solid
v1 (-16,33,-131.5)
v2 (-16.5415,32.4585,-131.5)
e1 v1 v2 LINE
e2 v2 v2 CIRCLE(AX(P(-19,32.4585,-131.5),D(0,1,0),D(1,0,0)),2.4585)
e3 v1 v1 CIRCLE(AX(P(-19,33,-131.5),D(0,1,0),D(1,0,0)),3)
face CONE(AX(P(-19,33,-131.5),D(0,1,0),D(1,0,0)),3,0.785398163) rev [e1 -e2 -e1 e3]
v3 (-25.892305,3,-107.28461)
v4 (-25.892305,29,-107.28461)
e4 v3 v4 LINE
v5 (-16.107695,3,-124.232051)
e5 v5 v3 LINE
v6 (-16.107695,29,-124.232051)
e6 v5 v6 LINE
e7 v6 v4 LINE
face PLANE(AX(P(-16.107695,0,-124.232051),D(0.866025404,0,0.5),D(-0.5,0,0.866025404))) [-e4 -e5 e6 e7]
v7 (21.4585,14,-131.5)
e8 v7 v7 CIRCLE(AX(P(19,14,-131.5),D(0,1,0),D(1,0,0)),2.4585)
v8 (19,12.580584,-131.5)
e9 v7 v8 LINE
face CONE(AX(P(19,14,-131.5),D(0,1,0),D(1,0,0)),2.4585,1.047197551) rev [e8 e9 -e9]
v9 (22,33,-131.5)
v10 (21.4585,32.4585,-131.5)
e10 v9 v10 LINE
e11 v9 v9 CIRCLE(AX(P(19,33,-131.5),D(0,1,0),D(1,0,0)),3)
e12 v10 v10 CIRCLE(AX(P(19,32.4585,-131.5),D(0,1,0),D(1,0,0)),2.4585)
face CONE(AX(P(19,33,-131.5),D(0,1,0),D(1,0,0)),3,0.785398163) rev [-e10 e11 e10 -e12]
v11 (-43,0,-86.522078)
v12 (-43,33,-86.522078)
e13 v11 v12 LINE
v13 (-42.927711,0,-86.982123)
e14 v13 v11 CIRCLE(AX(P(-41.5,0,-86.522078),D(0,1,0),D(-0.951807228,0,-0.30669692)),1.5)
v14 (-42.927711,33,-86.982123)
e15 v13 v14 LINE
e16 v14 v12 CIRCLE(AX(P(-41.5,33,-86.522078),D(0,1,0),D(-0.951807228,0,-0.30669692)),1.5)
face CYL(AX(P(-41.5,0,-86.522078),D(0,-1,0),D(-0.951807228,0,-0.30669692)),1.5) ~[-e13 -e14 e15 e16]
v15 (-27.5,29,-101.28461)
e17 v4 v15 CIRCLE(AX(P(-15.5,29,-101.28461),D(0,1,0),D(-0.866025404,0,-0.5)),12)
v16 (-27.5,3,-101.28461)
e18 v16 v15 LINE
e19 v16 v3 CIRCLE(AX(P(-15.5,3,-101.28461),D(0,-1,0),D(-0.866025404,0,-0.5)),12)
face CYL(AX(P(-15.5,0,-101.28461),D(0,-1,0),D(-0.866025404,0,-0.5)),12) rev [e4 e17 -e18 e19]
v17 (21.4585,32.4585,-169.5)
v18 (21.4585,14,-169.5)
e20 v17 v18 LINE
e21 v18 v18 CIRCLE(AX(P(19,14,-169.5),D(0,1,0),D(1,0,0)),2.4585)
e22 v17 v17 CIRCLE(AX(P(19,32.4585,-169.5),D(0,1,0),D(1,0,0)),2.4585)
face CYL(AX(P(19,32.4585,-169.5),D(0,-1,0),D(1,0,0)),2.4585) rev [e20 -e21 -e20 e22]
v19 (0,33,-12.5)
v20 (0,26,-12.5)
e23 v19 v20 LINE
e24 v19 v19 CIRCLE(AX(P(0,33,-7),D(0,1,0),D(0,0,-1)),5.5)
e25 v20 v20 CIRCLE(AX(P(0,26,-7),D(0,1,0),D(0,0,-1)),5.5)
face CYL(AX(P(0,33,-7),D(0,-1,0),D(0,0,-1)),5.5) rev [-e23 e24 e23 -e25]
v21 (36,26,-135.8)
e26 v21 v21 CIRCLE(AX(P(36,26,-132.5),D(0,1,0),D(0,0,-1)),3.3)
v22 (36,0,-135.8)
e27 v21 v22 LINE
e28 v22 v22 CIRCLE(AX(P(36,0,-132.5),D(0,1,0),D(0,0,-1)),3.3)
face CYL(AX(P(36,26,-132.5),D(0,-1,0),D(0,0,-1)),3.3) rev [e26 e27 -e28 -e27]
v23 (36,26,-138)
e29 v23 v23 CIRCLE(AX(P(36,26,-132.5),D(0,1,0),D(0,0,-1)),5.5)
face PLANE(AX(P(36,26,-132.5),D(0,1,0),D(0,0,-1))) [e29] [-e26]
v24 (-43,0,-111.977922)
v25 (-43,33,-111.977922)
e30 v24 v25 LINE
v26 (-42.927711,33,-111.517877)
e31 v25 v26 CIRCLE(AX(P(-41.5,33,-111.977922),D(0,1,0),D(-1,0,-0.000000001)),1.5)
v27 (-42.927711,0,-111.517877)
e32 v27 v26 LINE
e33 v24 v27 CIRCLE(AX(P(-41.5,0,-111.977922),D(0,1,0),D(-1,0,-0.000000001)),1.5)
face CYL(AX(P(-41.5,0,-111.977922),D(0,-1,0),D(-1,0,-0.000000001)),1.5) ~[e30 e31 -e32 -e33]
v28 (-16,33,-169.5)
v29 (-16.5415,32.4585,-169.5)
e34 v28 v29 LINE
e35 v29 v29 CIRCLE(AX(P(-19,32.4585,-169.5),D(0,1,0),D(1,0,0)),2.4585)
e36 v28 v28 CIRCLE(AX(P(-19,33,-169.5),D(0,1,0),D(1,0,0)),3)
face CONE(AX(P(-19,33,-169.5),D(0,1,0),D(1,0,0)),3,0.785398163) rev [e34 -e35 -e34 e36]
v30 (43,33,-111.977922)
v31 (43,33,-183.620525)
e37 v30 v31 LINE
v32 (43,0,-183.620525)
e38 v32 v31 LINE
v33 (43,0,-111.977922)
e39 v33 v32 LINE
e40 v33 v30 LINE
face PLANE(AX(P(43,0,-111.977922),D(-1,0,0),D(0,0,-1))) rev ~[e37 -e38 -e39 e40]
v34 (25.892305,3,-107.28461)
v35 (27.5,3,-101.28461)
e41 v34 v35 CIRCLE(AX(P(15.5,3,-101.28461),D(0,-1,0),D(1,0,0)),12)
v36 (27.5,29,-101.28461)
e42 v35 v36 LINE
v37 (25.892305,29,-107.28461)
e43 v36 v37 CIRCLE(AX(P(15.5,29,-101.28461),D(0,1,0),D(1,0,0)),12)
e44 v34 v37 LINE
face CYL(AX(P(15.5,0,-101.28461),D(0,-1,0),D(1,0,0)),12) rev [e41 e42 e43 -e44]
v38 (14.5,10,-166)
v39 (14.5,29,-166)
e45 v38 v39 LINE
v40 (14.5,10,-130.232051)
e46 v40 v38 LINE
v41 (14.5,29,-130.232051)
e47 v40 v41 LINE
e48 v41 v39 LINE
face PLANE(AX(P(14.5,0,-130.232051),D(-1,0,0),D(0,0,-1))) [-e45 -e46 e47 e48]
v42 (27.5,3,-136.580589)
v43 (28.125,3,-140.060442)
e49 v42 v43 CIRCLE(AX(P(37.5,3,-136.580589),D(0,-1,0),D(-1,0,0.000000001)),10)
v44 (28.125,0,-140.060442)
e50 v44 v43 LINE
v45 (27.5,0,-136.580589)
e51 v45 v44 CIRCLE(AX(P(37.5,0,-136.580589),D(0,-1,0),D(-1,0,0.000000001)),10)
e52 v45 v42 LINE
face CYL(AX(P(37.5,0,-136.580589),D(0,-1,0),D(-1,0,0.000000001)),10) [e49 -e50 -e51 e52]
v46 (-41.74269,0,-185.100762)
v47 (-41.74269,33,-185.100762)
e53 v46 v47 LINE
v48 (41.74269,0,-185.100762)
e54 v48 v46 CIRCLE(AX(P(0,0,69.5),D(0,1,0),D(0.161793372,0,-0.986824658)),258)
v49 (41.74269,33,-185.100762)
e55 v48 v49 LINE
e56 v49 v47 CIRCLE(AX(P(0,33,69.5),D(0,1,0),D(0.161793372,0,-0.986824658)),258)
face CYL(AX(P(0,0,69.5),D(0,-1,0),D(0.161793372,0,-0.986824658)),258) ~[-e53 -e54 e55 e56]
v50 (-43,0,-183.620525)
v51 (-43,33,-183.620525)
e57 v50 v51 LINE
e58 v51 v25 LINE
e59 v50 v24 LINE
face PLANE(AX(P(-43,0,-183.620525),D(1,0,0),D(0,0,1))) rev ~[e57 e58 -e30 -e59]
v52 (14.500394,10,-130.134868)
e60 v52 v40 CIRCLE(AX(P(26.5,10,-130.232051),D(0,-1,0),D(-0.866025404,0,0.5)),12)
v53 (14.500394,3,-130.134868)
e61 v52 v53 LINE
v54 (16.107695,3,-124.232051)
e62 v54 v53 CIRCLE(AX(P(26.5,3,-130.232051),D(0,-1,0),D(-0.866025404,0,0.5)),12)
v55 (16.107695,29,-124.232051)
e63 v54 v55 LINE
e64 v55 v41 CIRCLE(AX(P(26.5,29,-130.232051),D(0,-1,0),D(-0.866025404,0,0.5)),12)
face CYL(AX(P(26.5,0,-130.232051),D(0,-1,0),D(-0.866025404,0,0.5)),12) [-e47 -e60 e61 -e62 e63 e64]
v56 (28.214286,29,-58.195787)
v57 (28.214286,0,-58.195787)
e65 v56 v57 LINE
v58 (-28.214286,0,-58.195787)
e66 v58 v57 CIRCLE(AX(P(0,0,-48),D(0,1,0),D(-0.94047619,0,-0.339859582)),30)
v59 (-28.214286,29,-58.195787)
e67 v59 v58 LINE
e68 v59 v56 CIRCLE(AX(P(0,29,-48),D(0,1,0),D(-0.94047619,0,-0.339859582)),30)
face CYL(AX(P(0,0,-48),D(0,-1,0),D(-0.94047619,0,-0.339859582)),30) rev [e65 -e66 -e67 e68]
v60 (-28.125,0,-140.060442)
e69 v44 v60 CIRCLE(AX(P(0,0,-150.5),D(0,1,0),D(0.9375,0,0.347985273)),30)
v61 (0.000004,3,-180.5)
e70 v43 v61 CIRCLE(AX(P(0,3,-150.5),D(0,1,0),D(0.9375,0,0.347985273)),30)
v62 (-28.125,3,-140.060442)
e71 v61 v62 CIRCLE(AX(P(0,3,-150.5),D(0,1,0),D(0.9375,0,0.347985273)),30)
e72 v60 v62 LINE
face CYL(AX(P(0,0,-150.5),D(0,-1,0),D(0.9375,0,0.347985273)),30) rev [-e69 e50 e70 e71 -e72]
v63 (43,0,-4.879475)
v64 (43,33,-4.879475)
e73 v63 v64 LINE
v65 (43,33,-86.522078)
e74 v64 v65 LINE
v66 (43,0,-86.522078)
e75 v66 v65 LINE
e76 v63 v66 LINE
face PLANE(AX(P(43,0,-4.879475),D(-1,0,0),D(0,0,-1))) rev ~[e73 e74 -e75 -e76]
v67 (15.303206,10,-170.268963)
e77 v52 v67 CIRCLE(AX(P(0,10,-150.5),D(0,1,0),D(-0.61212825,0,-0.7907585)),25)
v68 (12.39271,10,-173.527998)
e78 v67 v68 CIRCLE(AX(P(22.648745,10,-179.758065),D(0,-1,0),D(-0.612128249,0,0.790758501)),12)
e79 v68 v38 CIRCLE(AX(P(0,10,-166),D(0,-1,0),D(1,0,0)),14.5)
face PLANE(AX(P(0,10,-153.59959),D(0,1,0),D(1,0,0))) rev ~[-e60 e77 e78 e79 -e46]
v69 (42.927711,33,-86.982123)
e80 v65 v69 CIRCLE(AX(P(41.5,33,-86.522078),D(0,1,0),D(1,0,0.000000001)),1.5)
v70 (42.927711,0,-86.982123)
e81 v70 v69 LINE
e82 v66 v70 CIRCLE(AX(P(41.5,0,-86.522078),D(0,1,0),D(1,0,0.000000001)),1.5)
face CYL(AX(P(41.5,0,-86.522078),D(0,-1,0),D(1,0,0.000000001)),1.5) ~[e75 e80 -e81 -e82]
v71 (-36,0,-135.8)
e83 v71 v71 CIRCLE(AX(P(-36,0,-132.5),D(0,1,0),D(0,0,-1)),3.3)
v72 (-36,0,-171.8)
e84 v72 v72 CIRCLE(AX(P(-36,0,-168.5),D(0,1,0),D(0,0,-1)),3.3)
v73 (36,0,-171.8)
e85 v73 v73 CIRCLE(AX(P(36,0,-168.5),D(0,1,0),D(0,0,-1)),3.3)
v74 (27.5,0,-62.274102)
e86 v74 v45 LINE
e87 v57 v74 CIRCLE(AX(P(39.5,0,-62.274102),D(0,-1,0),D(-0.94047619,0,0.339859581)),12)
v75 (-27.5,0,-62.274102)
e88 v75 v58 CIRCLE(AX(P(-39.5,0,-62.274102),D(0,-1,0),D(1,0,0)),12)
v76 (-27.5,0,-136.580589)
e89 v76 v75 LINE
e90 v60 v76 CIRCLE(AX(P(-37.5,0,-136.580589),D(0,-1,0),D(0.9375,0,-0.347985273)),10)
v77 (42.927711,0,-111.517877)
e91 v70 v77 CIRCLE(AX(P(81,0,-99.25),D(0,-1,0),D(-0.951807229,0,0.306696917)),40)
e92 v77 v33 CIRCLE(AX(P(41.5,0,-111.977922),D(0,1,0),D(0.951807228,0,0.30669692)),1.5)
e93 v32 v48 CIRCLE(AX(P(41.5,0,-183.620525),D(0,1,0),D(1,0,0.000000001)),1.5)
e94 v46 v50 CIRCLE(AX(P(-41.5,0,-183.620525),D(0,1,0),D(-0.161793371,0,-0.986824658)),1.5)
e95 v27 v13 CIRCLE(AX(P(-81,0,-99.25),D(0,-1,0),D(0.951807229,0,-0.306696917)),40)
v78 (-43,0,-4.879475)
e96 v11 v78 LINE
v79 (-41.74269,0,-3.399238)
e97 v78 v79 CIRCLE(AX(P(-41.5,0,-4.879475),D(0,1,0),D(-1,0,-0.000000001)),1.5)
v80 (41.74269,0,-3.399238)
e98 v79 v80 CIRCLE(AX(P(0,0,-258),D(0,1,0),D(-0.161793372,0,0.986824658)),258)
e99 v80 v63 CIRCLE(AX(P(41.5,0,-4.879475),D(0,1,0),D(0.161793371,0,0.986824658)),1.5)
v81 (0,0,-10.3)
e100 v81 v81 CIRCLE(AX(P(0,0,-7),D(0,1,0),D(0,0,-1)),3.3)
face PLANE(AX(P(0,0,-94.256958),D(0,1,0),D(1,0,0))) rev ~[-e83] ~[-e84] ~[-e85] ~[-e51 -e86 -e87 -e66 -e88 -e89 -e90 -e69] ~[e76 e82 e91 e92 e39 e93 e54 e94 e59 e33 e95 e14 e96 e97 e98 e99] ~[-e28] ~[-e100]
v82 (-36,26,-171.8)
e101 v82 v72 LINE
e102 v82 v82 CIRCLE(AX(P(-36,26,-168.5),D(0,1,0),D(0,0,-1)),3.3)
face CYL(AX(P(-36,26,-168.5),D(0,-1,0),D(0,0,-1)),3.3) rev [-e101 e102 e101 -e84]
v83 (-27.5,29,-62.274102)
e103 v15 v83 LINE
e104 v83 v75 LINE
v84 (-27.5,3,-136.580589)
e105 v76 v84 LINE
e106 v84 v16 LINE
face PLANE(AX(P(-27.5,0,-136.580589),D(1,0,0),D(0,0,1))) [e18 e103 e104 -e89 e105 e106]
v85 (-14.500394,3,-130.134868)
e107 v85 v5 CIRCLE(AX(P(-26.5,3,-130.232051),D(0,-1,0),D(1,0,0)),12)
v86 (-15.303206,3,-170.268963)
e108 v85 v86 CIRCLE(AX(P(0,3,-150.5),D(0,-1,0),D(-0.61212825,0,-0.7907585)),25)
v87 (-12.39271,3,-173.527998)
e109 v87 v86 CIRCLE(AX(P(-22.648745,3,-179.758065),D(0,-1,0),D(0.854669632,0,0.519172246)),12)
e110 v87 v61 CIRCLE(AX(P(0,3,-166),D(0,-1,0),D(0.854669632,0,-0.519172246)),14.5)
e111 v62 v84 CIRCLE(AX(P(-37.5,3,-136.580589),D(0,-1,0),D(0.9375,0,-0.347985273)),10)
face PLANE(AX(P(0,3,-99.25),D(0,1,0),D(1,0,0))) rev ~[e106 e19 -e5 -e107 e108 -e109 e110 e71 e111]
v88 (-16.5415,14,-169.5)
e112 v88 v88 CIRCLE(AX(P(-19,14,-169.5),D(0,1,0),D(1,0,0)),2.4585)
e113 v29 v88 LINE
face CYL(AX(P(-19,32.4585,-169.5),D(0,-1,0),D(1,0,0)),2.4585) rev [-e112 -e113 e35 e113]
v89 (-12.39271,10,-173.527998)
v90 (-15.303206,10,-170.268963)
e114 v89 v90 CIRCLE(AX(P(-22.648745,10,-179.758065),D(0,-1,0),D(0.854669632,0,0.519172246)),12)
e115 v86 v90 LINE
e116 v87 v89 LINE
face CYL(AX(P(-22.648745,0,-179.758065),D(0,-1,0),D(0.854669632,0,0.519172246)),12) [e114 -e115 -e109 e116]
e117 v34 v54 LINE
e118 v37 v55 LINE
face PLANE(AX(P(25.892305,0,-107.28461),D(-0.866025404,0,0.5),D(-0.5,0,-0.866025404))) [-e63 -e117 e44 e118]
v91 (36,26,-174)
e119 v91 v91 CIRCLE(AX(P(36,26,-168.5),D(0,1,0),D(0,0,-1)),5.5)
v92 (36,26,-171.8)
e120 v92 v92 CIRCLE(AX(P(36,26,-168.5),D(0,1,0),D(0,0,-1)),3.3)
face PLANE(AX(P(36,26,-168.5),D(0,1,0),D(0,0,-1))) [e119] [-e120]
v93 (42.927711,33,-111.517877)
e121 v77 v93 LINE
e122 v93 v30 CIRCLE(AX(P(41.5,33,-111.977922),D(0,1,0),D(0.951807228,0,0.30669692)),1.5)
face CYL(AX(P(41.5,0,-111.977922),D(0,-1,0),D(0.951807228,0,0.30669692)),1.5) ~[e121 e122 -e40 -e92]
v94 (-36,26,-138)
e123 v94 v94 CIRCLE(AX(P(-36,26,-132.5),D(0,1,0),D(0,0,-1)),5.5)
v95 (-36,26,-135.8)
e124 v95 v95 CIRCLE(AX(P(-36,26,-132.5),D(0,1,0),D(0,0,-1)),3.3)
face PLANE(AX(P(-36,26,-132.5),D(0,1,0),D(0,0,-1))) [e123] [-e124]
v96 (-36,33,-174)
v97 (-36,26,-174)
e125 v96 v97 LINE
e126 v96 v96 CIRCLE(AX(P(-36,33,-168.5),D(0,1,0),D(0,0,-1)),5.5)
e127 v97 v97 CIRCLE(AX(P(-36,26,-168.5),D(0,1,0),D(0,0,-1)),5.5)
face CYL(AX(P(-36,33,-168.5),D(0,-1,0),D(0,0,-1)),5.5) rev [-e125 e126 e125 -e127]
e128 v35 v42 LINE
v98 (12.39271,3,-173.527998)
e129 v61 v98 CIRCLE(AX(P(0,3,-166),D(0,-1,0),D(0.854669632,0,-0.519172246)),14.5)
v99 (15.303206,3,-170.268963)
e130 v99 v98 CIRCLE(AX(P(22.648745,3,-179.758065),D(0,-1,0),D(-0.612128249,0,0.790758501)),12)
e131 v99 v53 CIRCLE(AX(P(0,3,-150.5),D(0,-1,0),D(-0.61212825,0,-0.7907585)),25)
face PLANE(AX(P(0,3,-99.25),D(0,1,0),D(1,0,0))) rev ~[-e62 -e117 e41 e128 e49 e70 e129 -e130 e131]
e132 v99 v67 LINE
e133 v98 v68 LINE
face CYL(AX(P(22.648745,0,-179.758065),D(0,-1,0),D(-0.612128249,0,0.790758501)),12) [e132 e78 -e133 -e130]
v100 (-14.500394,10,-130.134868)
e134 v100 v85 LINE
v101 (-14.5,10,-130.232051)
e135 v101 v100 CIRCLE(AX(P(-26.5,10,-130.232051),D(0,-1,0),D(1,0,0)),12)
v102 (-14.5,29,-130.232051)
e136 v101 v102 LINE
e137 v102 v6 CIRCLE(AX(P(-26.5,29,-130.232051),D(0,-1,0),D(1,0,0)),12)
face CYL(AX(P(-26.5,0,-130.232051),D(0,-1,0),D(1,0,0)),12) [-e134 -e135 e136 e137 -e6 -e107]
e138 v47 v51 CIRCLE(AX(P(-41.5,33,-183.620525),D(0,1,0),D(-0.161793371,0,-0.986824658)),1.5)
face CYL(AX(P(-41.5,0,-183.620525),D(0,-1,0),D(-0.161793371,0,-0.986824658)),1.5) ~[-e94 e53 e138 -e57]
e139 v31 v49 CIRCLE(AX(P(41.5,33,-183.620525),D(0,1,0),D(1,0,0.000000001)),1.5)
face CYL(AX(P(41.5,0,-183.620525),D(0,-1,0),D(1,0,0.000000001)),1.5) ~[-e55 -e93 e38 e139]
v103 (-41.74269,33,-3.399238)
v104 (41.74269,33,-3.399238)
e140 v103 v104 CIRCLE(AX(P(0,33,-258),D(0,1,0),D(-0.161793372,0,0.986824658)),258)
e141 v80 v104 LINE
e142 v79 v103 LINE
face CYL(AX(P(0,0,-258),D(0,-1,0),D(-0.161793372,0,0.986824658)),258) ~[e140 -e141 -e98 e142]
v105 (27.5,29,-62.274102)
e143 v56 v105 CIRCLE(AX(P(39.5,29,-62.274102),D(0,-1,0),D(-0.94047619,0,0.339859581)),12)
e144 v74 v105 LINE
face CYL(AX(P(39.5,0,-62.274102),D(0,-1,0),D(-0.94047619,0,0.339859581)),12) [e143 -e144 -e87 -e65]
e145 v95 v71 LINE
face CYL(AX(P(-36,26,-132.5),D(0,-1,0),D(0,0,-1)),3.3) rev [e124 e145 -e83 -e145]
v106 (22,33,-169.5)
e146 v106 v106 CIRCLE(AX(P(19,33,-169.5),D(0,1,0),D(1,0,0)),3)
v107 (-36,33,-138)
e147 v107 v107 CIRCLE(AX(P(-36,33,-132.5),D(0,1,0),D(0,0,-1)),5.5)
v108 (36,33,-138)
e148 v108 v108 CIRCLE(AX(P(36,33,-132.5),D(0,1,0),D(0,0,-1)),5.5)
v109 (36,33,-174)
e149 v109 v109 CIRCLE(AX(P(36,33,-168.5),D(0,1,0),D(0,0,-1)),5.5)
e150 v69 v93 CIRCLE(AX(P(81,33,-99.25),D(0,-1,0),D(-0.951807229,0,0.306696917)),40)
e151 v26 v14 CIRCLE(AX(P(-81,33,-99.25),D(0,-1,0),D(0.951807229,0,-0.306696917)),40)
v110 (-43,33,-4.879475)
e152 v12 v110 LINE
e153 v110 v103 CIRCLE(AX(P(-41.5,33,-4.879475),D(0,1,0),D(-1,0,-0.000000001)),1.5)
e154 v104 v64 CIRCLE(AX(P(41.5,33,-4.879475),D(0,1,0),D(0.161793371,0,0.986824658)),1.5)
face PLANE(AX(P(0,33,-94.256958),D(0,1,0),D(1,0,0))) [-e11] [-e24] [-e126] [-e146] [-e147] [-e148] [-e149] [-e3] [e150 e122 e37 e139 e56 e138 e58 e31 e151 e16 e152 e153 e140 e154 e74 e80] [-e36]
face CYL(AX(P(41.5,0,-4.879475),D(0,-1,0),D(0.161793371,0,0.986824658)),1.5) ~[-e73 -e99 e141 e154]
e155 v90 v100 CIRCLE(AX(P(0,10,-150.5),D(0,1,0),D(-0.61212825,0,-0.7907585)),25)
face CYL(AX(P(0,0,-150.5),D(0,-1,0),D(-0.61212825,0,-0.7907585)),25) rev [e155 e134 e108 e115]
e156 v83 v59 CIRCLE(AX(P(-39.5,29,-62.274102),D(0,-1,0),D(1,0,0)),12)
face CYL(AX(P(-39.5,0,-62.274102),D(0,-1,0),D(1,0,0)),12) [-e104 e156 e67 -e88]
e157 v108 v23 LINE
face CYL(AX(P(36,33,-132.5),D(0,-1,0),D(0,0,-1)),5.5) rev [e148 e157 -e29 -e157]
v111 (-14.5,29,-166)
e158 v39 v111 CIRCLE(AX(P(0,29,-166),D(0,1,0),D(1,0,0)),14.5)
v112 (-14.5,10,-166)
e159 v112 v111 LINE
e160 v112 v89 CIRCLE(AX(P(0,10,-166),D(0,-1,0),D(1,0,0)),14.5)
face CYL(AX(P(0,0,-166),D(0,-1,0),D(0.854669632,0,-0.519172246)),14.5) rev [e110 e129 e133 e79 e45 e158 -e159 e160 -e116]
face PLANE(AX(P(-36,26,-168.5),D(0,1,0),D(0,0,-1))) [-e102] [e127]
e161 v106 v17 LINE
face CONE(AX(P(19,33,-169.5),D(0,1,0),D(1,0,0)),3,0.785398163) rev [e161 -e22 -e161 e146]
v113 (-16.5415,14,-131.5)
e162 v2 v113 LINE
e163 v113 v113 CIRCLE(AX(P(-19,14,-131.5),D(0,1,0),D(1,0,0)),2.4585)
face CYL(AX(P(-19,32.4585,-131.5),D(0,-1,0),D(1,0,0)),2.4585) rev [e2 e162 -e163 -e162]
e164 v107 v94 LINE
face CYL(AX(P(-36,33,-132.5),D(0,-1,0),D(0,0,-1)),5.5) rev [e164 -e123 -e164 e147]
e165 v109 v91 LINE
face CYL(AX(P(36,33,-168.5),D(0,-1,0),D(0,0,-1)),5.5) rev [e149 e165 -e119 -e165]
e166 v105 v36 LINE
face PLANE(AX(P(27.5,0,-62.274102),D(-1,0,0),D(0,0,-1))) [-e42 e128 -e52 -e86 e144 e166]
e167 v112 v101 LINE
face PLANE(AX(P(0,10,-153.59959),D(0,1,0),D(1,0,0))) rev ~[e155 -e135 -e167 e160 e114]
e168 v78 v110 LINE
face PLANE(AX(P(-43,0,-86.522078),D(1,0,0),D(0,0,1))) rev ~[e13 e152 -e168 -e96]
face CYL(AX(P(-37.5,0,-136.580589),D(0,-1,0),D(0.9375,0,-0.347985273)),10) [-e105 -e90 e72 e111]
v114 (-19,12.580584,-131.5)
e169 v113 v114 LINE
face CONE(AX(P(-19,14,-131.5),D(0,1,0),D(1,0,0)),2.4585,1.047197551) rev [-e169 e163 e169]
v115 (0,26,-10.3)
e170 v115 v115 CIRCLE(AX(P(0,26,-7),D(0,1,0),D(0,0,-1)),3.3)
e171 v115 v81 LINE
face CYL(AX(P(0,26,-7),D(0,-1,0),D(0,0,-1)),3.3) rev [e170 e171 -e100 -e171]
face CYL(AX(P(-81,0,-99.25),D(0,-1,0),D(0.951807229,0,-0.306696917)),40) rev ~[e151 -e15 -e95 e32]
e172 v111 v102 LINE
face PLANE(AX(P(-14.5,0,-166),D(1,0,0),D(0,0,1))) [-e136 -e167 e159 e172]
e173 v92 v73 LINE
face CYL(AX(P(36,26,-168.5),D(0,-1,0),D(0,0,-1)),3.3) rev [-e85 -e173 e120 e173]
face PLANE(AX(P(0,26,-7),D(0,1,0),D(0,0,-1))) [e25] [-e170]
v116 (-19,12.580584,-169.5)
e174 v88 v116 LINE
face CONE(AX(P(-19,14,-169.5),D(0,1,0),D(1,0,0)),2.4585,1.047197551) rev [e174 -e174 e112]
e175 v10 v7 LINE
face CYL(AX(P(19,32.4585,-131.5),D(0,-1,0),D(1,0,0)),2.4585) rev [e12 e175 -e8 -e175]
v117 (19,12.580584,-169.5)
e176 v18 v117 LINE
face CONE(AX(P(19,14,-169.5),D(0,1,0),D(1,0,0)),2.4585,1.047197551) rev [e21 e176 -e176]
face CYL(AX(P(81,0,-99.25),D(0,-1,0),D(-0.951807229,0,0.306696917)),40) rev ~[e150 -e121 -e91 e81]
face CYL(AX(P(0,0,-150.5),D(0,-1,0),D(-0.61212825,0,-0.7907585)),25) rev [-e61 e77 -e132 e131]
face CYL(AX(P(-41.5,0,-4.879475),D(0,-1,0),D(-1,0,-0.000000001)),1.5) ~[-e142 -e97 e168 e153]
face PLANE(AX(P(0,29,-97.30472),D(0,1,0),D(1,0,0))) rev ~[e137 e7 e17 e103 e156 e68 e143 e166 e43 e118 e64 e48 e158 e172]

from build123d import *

# Parameters (mm, degrees)
BOSS_EXTRUDE1_DEPTH = 33
CUT_EXTRUDE1_DEPTH  = 29
CUT_EXTRUDE2_DEPTH  = 10
CUT_EXTRUDE3_DEPTH  = 3


with BuildPart() as part:
    # Sketch1 → Boss-Extrude1 (new body)
    with BuildSketch(Plane(origin=(0, 0, 0), x_dir=(1, 0, 0), z_dir=(0, 1, 0))):
        with BuildLine():
            Line((-43, 86.522077939), (-43, 4.879475348))
            ThreePointArc((-43, 4.879475348), (-42.64324868, 3.90840251), (-41.742690058, 3.399238362))
            ThreePointArc((-41.742690058, 3.399238362), (0, 0), (41.742690058, 3.399238362))
            ThreePointArc((41.742690058, 3.399238362), (42.64324868, 3.90840251), (43, 4.879475348))
            Line((43, 4.879475348), (43, 86.522077939))
            ThreePointArc((43, 86.522077939), (42.98181751, 86.754923096), (42.927710843, 86.982123314))
            ThreePointArc((42.927710843, 86.982123314), (41, 99.25), (42.927710843, 111.517876686))
            ThreePointArc((42.927710843, 111.517876686), (42.98181751, 111.745076904), (43, 111.977922061))
            Line((43, 111.977922061), (43, 183.620524652))
            ThreePointArc((43, 183.620524652), (42.64324868, 184.59159749), (41.742690058, 185.100761638))
            ThreePointArc((41.742690058, 185.100761638), (0, 188.5), (-41.742690058, 185.100761638))
            ThreePointArc((-41.742690058, 185.100761638), (-42.64324868, 184.59159749), (-43, 183.620524652))
            Line((-43, 183.620524652), (-43, 111.977922061))
            ThreePointArc((-43, 111.977922061), (-42.98181751, 111.745076904), (-42.927710843, 111.517876686))
            ThreePointArc((-42.927710843, 111.517876686), (-41, 99.25), (-42.927710843, 86.982123314))
            ThreePointArc((-42.927710843, 86.982123314), (-42.98181751, 86.754923096), (-43, 86.522077939))
        make_face()
    extrude(amount=BOSS_EXTRUDE1_DEPTH)

    # Sketch2 → Cut-Extrude1 (cut)
    with BuildSketch(Plane(origin=(0, 0, 0), x_dir=(1, 0, 0), z_dir=(0, 1, 0))):
        with BuildLine():
            Line((27.5, 62.274102424), (27.5, 101.284609691))
            ThreePointArc((27.5, 101.284609691), (27.091109915, 104.390438232), (25.892304845, 107.284609691))
            Line((25.892304845, 107.284609691), (16.107695155, 124.232050808))
            ThreePointArc((16.107695155, 124.232050808), (14.908890085, 127.126222266), (14.5, 130.232050808))
            Line((14.5, 130.232050808), (14.5, 166))
            ThreePointArc((14.5, 166), (0, 180.5), (-14.5, 166))
            Line((-14.5, 166), (-14.5, 130.232050808))
            ThreePointArc((-14.5, 130.232050808), (-14.908890085, 127.126222266), (-16.107695155, 124.232050808))
            Line((-16.107695155, 124.232050808), (-25.892304845, 107.284609691))
            ThreePointArc((-25.892304845, 107.284609691), (-27.091109915, 104.390438232), (-27.5, 101.284609691))
            Line((-27.5, 101.284609691), (-27.5, 62.274102424))
            ThreePointArc((-27.5, 62.274102424), (-27.679920232, 60.203905746), (-28.214285714, 58.195787445))
            ThreePointArc((-28.214285714, 58.195787445), (0, 18), (28.214285714, 58.195787445))
            ThreePointArc((28.214285714, 58.195787445), (27.679920232, 60.203905746), (27.5, 62.274102424))
        make_face()
    extrude(amount=CUT_EXTRUDE1_DEPTH, mode=Mode.SUBTRACT)

    # Sketch3 → Cut-Extrude2 (cut)
    with BuildSketch(Plane(origin=(0, 0, 0), x_dir=(1, 0, 0), z_dir=(0, 1, 0))):
        with BuildLine():
            ThreePointArc((-15.303206241, 170.268962511), (0, 125.5), (15.303206241, 170.268962511))
            ThreePointArc((15.303206241, 170.268962511), (13.698371822, 171.764891444), (12.392709657, 173.527997565))
            ThreePointArc((12.392709657, 173.527997565), (0, 180.5), (-12.392709657, 173.527997565))
            ThreePointArc((-12.392709657, 173.527997565), (-13.698371822, 171.764891444), (-15.303206241, 170.268962511))
        make_face()
    extrude(amount=CUT_EXTRUDE2_DEPTH, mode=Mode.SUBTRACT)

    # Sketch4 → Cut-Extrude3 (cut)
    with BuildSketch(Plane(origin=(0, 0, 0), x_dir=(1, 0, 0), z_dir=(0, 1, 0))):
        with BuildLine():
            Line((27.5, 61.919410907), (27.5, 136.580589093))
            ThreePointArc((27.5, 136.580589093), (27.657490157, 138.348356046), (28.125, 140.06044182))
            ThreePointArc((28.125, 140.06044182), (0, 180.5), (-28.125, 140.06044182))
            ThreePointArc((-28.125, 140.06044182), (-27.657490157, 138.348356046), (-27.5, 136.580589093))
            Line((-27.5, 136.580589093), (-27.5, 61.919410907))
            ThreePointArc((-27.5, 61.919410907), (-27.657490157, 60.151643954), (-28.125, 58.43955818))
            ThreePointArc((-28.125, 58.43955818), (0, 18), (28.125, 58.43955818))
            ThreePointArc((28.125, 58.43955818), (27.657490157, 60.151643954), (27.5, 61.919410907))
        make_face()
    extrude(amount=CUT_EXTRUDE3_DEPTH, mode=Mode.SUBTRACT)

    # Sketch5 → Cut-Revolve1 (revolve, cut)
    with BuildSketch(Plane(origin=(0, 0, 0), x_dir=(0, 0, -1), z_dir=(1, 0, 0))):
        Polygon((7, 33), (12.5, 33), (12.5, 26), (10.3, 26), (10.3, 0), (7, 0), align=None)
    revolve(axis=Axis((0, 0, -7), (0, 1, 0)), mode=Mode.SUBTRACT)

    # Sketch6 → Cut-Revolve2 (revolve, cut)
    with BuildSketch(Plane(origin=(36, 0, 0), x_dir=(0, 0, -1), z_dir=(1, 0, 0))):
        Polygon((132.5, 33), (138, 33), (138, 26), (135.8, 26), (135.8, 0), (132.5, 0), align=None)
    revolve(axis=Axis((36, 0, -132.5), (0, 1, 0)), mode=Mode.SUBTRACT)

    # Sketch7 → Cut-Revolve3 (revolve, cut)
    with BuildSketch(Plane(origin=(36, 0, 0), x_dir=(0, 0, -1), z_dir=(1, 0, 0))):
        Polygon((168.5, 33), (174, 33), (174, 26), (171.8, 26), (171.8, 0), (168.5, 0), align=None)
    revolve(axis=Axis((36, 0, -168.5), (0, 1, 0)), mode=Mode.SUBTRACT)

    # Sketch8 → Cut-Revolve4 (revolve, cut)
    with BuildSketch(Plane(origin=(-36, 0, 0), x_dir=(0, 0, -1), z_dir=(1, 0, 0))):
        Polygon((132.5, 33), (138, 33), (138, 26), (135.8, 26), (135.8, 0), (132.5, 0), align=None)
    revolve(axis=Axis((-36, 0, -132.5), (0, 1, 0)), mode=Mode.SUBTRACT)

    # Sketch9 → Cut-Revolve5 (revolve, cut)
    with BuildSketch(Plane(origin=(-36, 0, 0), x_dir=(0, 0, -1), z_dir=(1, 0, 0))):
        Polygon((168.5, 33), (174, 33), (174, 26), (171.8, 26), (171.8, 0), (168.5, 0), align=None)
    revolve(axis=Axis((-36, 0, -168.5), (0, 1, 0)), mode=Mode.SUBTRACT)

    # Sketch10 → Cut-Revolve6 (revolve, cut)
    with BuildSketch(Plane.XY.offset(-169.5)):
        Polygon((19, 33), (22, 33), (21.4585, 32.4585), (21.4585, 14), (19, 12.580584363), align=None)
    revolve(axis=Axis((19, 12.580584363, -169.5), (0, 1, 0)), mode=Mode.SUBTRACT)

    # Sketch11 → Cut-Revolve7 (revolve, cut)
    with BuildSketch(Plane.XY.offset(-169.5)):
        Polygon((-19, 33), (-16, 33), (-16.5415, 32.4585), (-16.5415, 14), (-19, 12.580584363), align=None)
    revolve(axis=Axis((-19, 12.580584363, -169.5), (0, 1, 0)), mode=Mode.SUBTRACT)

    # Sketch12 → Cut-Revolve8 (revolve, cut)
    with BuildSketch(Plane.XY.offset(-131.5)):
        Polygon((19, 33), (22, 33), (21.4585, 32.4585), (21.4585, 14), (19, 12.580584363), align=None)
    revolve(axis=Axis((19, 12.580584363, -131.5), (0, 1, 0)), mode=Mode.SUBTRACT)

    # Sketch13 → Cut-Revolve9 (revolve, cut)
    with BuildSketch(Plane.XY.offset(-131.5)):
        Polygon((-19, 33), (-16, 33), (-16.5415, 32.4585), (-16.5415, 14), (-19, 12.580584363), align=None)
    revolve(axis=Axis((-19, 12.580584363, -131.5), (0, 1, 0)), mode=Mode.SUBTRACT)


solid = part.part
